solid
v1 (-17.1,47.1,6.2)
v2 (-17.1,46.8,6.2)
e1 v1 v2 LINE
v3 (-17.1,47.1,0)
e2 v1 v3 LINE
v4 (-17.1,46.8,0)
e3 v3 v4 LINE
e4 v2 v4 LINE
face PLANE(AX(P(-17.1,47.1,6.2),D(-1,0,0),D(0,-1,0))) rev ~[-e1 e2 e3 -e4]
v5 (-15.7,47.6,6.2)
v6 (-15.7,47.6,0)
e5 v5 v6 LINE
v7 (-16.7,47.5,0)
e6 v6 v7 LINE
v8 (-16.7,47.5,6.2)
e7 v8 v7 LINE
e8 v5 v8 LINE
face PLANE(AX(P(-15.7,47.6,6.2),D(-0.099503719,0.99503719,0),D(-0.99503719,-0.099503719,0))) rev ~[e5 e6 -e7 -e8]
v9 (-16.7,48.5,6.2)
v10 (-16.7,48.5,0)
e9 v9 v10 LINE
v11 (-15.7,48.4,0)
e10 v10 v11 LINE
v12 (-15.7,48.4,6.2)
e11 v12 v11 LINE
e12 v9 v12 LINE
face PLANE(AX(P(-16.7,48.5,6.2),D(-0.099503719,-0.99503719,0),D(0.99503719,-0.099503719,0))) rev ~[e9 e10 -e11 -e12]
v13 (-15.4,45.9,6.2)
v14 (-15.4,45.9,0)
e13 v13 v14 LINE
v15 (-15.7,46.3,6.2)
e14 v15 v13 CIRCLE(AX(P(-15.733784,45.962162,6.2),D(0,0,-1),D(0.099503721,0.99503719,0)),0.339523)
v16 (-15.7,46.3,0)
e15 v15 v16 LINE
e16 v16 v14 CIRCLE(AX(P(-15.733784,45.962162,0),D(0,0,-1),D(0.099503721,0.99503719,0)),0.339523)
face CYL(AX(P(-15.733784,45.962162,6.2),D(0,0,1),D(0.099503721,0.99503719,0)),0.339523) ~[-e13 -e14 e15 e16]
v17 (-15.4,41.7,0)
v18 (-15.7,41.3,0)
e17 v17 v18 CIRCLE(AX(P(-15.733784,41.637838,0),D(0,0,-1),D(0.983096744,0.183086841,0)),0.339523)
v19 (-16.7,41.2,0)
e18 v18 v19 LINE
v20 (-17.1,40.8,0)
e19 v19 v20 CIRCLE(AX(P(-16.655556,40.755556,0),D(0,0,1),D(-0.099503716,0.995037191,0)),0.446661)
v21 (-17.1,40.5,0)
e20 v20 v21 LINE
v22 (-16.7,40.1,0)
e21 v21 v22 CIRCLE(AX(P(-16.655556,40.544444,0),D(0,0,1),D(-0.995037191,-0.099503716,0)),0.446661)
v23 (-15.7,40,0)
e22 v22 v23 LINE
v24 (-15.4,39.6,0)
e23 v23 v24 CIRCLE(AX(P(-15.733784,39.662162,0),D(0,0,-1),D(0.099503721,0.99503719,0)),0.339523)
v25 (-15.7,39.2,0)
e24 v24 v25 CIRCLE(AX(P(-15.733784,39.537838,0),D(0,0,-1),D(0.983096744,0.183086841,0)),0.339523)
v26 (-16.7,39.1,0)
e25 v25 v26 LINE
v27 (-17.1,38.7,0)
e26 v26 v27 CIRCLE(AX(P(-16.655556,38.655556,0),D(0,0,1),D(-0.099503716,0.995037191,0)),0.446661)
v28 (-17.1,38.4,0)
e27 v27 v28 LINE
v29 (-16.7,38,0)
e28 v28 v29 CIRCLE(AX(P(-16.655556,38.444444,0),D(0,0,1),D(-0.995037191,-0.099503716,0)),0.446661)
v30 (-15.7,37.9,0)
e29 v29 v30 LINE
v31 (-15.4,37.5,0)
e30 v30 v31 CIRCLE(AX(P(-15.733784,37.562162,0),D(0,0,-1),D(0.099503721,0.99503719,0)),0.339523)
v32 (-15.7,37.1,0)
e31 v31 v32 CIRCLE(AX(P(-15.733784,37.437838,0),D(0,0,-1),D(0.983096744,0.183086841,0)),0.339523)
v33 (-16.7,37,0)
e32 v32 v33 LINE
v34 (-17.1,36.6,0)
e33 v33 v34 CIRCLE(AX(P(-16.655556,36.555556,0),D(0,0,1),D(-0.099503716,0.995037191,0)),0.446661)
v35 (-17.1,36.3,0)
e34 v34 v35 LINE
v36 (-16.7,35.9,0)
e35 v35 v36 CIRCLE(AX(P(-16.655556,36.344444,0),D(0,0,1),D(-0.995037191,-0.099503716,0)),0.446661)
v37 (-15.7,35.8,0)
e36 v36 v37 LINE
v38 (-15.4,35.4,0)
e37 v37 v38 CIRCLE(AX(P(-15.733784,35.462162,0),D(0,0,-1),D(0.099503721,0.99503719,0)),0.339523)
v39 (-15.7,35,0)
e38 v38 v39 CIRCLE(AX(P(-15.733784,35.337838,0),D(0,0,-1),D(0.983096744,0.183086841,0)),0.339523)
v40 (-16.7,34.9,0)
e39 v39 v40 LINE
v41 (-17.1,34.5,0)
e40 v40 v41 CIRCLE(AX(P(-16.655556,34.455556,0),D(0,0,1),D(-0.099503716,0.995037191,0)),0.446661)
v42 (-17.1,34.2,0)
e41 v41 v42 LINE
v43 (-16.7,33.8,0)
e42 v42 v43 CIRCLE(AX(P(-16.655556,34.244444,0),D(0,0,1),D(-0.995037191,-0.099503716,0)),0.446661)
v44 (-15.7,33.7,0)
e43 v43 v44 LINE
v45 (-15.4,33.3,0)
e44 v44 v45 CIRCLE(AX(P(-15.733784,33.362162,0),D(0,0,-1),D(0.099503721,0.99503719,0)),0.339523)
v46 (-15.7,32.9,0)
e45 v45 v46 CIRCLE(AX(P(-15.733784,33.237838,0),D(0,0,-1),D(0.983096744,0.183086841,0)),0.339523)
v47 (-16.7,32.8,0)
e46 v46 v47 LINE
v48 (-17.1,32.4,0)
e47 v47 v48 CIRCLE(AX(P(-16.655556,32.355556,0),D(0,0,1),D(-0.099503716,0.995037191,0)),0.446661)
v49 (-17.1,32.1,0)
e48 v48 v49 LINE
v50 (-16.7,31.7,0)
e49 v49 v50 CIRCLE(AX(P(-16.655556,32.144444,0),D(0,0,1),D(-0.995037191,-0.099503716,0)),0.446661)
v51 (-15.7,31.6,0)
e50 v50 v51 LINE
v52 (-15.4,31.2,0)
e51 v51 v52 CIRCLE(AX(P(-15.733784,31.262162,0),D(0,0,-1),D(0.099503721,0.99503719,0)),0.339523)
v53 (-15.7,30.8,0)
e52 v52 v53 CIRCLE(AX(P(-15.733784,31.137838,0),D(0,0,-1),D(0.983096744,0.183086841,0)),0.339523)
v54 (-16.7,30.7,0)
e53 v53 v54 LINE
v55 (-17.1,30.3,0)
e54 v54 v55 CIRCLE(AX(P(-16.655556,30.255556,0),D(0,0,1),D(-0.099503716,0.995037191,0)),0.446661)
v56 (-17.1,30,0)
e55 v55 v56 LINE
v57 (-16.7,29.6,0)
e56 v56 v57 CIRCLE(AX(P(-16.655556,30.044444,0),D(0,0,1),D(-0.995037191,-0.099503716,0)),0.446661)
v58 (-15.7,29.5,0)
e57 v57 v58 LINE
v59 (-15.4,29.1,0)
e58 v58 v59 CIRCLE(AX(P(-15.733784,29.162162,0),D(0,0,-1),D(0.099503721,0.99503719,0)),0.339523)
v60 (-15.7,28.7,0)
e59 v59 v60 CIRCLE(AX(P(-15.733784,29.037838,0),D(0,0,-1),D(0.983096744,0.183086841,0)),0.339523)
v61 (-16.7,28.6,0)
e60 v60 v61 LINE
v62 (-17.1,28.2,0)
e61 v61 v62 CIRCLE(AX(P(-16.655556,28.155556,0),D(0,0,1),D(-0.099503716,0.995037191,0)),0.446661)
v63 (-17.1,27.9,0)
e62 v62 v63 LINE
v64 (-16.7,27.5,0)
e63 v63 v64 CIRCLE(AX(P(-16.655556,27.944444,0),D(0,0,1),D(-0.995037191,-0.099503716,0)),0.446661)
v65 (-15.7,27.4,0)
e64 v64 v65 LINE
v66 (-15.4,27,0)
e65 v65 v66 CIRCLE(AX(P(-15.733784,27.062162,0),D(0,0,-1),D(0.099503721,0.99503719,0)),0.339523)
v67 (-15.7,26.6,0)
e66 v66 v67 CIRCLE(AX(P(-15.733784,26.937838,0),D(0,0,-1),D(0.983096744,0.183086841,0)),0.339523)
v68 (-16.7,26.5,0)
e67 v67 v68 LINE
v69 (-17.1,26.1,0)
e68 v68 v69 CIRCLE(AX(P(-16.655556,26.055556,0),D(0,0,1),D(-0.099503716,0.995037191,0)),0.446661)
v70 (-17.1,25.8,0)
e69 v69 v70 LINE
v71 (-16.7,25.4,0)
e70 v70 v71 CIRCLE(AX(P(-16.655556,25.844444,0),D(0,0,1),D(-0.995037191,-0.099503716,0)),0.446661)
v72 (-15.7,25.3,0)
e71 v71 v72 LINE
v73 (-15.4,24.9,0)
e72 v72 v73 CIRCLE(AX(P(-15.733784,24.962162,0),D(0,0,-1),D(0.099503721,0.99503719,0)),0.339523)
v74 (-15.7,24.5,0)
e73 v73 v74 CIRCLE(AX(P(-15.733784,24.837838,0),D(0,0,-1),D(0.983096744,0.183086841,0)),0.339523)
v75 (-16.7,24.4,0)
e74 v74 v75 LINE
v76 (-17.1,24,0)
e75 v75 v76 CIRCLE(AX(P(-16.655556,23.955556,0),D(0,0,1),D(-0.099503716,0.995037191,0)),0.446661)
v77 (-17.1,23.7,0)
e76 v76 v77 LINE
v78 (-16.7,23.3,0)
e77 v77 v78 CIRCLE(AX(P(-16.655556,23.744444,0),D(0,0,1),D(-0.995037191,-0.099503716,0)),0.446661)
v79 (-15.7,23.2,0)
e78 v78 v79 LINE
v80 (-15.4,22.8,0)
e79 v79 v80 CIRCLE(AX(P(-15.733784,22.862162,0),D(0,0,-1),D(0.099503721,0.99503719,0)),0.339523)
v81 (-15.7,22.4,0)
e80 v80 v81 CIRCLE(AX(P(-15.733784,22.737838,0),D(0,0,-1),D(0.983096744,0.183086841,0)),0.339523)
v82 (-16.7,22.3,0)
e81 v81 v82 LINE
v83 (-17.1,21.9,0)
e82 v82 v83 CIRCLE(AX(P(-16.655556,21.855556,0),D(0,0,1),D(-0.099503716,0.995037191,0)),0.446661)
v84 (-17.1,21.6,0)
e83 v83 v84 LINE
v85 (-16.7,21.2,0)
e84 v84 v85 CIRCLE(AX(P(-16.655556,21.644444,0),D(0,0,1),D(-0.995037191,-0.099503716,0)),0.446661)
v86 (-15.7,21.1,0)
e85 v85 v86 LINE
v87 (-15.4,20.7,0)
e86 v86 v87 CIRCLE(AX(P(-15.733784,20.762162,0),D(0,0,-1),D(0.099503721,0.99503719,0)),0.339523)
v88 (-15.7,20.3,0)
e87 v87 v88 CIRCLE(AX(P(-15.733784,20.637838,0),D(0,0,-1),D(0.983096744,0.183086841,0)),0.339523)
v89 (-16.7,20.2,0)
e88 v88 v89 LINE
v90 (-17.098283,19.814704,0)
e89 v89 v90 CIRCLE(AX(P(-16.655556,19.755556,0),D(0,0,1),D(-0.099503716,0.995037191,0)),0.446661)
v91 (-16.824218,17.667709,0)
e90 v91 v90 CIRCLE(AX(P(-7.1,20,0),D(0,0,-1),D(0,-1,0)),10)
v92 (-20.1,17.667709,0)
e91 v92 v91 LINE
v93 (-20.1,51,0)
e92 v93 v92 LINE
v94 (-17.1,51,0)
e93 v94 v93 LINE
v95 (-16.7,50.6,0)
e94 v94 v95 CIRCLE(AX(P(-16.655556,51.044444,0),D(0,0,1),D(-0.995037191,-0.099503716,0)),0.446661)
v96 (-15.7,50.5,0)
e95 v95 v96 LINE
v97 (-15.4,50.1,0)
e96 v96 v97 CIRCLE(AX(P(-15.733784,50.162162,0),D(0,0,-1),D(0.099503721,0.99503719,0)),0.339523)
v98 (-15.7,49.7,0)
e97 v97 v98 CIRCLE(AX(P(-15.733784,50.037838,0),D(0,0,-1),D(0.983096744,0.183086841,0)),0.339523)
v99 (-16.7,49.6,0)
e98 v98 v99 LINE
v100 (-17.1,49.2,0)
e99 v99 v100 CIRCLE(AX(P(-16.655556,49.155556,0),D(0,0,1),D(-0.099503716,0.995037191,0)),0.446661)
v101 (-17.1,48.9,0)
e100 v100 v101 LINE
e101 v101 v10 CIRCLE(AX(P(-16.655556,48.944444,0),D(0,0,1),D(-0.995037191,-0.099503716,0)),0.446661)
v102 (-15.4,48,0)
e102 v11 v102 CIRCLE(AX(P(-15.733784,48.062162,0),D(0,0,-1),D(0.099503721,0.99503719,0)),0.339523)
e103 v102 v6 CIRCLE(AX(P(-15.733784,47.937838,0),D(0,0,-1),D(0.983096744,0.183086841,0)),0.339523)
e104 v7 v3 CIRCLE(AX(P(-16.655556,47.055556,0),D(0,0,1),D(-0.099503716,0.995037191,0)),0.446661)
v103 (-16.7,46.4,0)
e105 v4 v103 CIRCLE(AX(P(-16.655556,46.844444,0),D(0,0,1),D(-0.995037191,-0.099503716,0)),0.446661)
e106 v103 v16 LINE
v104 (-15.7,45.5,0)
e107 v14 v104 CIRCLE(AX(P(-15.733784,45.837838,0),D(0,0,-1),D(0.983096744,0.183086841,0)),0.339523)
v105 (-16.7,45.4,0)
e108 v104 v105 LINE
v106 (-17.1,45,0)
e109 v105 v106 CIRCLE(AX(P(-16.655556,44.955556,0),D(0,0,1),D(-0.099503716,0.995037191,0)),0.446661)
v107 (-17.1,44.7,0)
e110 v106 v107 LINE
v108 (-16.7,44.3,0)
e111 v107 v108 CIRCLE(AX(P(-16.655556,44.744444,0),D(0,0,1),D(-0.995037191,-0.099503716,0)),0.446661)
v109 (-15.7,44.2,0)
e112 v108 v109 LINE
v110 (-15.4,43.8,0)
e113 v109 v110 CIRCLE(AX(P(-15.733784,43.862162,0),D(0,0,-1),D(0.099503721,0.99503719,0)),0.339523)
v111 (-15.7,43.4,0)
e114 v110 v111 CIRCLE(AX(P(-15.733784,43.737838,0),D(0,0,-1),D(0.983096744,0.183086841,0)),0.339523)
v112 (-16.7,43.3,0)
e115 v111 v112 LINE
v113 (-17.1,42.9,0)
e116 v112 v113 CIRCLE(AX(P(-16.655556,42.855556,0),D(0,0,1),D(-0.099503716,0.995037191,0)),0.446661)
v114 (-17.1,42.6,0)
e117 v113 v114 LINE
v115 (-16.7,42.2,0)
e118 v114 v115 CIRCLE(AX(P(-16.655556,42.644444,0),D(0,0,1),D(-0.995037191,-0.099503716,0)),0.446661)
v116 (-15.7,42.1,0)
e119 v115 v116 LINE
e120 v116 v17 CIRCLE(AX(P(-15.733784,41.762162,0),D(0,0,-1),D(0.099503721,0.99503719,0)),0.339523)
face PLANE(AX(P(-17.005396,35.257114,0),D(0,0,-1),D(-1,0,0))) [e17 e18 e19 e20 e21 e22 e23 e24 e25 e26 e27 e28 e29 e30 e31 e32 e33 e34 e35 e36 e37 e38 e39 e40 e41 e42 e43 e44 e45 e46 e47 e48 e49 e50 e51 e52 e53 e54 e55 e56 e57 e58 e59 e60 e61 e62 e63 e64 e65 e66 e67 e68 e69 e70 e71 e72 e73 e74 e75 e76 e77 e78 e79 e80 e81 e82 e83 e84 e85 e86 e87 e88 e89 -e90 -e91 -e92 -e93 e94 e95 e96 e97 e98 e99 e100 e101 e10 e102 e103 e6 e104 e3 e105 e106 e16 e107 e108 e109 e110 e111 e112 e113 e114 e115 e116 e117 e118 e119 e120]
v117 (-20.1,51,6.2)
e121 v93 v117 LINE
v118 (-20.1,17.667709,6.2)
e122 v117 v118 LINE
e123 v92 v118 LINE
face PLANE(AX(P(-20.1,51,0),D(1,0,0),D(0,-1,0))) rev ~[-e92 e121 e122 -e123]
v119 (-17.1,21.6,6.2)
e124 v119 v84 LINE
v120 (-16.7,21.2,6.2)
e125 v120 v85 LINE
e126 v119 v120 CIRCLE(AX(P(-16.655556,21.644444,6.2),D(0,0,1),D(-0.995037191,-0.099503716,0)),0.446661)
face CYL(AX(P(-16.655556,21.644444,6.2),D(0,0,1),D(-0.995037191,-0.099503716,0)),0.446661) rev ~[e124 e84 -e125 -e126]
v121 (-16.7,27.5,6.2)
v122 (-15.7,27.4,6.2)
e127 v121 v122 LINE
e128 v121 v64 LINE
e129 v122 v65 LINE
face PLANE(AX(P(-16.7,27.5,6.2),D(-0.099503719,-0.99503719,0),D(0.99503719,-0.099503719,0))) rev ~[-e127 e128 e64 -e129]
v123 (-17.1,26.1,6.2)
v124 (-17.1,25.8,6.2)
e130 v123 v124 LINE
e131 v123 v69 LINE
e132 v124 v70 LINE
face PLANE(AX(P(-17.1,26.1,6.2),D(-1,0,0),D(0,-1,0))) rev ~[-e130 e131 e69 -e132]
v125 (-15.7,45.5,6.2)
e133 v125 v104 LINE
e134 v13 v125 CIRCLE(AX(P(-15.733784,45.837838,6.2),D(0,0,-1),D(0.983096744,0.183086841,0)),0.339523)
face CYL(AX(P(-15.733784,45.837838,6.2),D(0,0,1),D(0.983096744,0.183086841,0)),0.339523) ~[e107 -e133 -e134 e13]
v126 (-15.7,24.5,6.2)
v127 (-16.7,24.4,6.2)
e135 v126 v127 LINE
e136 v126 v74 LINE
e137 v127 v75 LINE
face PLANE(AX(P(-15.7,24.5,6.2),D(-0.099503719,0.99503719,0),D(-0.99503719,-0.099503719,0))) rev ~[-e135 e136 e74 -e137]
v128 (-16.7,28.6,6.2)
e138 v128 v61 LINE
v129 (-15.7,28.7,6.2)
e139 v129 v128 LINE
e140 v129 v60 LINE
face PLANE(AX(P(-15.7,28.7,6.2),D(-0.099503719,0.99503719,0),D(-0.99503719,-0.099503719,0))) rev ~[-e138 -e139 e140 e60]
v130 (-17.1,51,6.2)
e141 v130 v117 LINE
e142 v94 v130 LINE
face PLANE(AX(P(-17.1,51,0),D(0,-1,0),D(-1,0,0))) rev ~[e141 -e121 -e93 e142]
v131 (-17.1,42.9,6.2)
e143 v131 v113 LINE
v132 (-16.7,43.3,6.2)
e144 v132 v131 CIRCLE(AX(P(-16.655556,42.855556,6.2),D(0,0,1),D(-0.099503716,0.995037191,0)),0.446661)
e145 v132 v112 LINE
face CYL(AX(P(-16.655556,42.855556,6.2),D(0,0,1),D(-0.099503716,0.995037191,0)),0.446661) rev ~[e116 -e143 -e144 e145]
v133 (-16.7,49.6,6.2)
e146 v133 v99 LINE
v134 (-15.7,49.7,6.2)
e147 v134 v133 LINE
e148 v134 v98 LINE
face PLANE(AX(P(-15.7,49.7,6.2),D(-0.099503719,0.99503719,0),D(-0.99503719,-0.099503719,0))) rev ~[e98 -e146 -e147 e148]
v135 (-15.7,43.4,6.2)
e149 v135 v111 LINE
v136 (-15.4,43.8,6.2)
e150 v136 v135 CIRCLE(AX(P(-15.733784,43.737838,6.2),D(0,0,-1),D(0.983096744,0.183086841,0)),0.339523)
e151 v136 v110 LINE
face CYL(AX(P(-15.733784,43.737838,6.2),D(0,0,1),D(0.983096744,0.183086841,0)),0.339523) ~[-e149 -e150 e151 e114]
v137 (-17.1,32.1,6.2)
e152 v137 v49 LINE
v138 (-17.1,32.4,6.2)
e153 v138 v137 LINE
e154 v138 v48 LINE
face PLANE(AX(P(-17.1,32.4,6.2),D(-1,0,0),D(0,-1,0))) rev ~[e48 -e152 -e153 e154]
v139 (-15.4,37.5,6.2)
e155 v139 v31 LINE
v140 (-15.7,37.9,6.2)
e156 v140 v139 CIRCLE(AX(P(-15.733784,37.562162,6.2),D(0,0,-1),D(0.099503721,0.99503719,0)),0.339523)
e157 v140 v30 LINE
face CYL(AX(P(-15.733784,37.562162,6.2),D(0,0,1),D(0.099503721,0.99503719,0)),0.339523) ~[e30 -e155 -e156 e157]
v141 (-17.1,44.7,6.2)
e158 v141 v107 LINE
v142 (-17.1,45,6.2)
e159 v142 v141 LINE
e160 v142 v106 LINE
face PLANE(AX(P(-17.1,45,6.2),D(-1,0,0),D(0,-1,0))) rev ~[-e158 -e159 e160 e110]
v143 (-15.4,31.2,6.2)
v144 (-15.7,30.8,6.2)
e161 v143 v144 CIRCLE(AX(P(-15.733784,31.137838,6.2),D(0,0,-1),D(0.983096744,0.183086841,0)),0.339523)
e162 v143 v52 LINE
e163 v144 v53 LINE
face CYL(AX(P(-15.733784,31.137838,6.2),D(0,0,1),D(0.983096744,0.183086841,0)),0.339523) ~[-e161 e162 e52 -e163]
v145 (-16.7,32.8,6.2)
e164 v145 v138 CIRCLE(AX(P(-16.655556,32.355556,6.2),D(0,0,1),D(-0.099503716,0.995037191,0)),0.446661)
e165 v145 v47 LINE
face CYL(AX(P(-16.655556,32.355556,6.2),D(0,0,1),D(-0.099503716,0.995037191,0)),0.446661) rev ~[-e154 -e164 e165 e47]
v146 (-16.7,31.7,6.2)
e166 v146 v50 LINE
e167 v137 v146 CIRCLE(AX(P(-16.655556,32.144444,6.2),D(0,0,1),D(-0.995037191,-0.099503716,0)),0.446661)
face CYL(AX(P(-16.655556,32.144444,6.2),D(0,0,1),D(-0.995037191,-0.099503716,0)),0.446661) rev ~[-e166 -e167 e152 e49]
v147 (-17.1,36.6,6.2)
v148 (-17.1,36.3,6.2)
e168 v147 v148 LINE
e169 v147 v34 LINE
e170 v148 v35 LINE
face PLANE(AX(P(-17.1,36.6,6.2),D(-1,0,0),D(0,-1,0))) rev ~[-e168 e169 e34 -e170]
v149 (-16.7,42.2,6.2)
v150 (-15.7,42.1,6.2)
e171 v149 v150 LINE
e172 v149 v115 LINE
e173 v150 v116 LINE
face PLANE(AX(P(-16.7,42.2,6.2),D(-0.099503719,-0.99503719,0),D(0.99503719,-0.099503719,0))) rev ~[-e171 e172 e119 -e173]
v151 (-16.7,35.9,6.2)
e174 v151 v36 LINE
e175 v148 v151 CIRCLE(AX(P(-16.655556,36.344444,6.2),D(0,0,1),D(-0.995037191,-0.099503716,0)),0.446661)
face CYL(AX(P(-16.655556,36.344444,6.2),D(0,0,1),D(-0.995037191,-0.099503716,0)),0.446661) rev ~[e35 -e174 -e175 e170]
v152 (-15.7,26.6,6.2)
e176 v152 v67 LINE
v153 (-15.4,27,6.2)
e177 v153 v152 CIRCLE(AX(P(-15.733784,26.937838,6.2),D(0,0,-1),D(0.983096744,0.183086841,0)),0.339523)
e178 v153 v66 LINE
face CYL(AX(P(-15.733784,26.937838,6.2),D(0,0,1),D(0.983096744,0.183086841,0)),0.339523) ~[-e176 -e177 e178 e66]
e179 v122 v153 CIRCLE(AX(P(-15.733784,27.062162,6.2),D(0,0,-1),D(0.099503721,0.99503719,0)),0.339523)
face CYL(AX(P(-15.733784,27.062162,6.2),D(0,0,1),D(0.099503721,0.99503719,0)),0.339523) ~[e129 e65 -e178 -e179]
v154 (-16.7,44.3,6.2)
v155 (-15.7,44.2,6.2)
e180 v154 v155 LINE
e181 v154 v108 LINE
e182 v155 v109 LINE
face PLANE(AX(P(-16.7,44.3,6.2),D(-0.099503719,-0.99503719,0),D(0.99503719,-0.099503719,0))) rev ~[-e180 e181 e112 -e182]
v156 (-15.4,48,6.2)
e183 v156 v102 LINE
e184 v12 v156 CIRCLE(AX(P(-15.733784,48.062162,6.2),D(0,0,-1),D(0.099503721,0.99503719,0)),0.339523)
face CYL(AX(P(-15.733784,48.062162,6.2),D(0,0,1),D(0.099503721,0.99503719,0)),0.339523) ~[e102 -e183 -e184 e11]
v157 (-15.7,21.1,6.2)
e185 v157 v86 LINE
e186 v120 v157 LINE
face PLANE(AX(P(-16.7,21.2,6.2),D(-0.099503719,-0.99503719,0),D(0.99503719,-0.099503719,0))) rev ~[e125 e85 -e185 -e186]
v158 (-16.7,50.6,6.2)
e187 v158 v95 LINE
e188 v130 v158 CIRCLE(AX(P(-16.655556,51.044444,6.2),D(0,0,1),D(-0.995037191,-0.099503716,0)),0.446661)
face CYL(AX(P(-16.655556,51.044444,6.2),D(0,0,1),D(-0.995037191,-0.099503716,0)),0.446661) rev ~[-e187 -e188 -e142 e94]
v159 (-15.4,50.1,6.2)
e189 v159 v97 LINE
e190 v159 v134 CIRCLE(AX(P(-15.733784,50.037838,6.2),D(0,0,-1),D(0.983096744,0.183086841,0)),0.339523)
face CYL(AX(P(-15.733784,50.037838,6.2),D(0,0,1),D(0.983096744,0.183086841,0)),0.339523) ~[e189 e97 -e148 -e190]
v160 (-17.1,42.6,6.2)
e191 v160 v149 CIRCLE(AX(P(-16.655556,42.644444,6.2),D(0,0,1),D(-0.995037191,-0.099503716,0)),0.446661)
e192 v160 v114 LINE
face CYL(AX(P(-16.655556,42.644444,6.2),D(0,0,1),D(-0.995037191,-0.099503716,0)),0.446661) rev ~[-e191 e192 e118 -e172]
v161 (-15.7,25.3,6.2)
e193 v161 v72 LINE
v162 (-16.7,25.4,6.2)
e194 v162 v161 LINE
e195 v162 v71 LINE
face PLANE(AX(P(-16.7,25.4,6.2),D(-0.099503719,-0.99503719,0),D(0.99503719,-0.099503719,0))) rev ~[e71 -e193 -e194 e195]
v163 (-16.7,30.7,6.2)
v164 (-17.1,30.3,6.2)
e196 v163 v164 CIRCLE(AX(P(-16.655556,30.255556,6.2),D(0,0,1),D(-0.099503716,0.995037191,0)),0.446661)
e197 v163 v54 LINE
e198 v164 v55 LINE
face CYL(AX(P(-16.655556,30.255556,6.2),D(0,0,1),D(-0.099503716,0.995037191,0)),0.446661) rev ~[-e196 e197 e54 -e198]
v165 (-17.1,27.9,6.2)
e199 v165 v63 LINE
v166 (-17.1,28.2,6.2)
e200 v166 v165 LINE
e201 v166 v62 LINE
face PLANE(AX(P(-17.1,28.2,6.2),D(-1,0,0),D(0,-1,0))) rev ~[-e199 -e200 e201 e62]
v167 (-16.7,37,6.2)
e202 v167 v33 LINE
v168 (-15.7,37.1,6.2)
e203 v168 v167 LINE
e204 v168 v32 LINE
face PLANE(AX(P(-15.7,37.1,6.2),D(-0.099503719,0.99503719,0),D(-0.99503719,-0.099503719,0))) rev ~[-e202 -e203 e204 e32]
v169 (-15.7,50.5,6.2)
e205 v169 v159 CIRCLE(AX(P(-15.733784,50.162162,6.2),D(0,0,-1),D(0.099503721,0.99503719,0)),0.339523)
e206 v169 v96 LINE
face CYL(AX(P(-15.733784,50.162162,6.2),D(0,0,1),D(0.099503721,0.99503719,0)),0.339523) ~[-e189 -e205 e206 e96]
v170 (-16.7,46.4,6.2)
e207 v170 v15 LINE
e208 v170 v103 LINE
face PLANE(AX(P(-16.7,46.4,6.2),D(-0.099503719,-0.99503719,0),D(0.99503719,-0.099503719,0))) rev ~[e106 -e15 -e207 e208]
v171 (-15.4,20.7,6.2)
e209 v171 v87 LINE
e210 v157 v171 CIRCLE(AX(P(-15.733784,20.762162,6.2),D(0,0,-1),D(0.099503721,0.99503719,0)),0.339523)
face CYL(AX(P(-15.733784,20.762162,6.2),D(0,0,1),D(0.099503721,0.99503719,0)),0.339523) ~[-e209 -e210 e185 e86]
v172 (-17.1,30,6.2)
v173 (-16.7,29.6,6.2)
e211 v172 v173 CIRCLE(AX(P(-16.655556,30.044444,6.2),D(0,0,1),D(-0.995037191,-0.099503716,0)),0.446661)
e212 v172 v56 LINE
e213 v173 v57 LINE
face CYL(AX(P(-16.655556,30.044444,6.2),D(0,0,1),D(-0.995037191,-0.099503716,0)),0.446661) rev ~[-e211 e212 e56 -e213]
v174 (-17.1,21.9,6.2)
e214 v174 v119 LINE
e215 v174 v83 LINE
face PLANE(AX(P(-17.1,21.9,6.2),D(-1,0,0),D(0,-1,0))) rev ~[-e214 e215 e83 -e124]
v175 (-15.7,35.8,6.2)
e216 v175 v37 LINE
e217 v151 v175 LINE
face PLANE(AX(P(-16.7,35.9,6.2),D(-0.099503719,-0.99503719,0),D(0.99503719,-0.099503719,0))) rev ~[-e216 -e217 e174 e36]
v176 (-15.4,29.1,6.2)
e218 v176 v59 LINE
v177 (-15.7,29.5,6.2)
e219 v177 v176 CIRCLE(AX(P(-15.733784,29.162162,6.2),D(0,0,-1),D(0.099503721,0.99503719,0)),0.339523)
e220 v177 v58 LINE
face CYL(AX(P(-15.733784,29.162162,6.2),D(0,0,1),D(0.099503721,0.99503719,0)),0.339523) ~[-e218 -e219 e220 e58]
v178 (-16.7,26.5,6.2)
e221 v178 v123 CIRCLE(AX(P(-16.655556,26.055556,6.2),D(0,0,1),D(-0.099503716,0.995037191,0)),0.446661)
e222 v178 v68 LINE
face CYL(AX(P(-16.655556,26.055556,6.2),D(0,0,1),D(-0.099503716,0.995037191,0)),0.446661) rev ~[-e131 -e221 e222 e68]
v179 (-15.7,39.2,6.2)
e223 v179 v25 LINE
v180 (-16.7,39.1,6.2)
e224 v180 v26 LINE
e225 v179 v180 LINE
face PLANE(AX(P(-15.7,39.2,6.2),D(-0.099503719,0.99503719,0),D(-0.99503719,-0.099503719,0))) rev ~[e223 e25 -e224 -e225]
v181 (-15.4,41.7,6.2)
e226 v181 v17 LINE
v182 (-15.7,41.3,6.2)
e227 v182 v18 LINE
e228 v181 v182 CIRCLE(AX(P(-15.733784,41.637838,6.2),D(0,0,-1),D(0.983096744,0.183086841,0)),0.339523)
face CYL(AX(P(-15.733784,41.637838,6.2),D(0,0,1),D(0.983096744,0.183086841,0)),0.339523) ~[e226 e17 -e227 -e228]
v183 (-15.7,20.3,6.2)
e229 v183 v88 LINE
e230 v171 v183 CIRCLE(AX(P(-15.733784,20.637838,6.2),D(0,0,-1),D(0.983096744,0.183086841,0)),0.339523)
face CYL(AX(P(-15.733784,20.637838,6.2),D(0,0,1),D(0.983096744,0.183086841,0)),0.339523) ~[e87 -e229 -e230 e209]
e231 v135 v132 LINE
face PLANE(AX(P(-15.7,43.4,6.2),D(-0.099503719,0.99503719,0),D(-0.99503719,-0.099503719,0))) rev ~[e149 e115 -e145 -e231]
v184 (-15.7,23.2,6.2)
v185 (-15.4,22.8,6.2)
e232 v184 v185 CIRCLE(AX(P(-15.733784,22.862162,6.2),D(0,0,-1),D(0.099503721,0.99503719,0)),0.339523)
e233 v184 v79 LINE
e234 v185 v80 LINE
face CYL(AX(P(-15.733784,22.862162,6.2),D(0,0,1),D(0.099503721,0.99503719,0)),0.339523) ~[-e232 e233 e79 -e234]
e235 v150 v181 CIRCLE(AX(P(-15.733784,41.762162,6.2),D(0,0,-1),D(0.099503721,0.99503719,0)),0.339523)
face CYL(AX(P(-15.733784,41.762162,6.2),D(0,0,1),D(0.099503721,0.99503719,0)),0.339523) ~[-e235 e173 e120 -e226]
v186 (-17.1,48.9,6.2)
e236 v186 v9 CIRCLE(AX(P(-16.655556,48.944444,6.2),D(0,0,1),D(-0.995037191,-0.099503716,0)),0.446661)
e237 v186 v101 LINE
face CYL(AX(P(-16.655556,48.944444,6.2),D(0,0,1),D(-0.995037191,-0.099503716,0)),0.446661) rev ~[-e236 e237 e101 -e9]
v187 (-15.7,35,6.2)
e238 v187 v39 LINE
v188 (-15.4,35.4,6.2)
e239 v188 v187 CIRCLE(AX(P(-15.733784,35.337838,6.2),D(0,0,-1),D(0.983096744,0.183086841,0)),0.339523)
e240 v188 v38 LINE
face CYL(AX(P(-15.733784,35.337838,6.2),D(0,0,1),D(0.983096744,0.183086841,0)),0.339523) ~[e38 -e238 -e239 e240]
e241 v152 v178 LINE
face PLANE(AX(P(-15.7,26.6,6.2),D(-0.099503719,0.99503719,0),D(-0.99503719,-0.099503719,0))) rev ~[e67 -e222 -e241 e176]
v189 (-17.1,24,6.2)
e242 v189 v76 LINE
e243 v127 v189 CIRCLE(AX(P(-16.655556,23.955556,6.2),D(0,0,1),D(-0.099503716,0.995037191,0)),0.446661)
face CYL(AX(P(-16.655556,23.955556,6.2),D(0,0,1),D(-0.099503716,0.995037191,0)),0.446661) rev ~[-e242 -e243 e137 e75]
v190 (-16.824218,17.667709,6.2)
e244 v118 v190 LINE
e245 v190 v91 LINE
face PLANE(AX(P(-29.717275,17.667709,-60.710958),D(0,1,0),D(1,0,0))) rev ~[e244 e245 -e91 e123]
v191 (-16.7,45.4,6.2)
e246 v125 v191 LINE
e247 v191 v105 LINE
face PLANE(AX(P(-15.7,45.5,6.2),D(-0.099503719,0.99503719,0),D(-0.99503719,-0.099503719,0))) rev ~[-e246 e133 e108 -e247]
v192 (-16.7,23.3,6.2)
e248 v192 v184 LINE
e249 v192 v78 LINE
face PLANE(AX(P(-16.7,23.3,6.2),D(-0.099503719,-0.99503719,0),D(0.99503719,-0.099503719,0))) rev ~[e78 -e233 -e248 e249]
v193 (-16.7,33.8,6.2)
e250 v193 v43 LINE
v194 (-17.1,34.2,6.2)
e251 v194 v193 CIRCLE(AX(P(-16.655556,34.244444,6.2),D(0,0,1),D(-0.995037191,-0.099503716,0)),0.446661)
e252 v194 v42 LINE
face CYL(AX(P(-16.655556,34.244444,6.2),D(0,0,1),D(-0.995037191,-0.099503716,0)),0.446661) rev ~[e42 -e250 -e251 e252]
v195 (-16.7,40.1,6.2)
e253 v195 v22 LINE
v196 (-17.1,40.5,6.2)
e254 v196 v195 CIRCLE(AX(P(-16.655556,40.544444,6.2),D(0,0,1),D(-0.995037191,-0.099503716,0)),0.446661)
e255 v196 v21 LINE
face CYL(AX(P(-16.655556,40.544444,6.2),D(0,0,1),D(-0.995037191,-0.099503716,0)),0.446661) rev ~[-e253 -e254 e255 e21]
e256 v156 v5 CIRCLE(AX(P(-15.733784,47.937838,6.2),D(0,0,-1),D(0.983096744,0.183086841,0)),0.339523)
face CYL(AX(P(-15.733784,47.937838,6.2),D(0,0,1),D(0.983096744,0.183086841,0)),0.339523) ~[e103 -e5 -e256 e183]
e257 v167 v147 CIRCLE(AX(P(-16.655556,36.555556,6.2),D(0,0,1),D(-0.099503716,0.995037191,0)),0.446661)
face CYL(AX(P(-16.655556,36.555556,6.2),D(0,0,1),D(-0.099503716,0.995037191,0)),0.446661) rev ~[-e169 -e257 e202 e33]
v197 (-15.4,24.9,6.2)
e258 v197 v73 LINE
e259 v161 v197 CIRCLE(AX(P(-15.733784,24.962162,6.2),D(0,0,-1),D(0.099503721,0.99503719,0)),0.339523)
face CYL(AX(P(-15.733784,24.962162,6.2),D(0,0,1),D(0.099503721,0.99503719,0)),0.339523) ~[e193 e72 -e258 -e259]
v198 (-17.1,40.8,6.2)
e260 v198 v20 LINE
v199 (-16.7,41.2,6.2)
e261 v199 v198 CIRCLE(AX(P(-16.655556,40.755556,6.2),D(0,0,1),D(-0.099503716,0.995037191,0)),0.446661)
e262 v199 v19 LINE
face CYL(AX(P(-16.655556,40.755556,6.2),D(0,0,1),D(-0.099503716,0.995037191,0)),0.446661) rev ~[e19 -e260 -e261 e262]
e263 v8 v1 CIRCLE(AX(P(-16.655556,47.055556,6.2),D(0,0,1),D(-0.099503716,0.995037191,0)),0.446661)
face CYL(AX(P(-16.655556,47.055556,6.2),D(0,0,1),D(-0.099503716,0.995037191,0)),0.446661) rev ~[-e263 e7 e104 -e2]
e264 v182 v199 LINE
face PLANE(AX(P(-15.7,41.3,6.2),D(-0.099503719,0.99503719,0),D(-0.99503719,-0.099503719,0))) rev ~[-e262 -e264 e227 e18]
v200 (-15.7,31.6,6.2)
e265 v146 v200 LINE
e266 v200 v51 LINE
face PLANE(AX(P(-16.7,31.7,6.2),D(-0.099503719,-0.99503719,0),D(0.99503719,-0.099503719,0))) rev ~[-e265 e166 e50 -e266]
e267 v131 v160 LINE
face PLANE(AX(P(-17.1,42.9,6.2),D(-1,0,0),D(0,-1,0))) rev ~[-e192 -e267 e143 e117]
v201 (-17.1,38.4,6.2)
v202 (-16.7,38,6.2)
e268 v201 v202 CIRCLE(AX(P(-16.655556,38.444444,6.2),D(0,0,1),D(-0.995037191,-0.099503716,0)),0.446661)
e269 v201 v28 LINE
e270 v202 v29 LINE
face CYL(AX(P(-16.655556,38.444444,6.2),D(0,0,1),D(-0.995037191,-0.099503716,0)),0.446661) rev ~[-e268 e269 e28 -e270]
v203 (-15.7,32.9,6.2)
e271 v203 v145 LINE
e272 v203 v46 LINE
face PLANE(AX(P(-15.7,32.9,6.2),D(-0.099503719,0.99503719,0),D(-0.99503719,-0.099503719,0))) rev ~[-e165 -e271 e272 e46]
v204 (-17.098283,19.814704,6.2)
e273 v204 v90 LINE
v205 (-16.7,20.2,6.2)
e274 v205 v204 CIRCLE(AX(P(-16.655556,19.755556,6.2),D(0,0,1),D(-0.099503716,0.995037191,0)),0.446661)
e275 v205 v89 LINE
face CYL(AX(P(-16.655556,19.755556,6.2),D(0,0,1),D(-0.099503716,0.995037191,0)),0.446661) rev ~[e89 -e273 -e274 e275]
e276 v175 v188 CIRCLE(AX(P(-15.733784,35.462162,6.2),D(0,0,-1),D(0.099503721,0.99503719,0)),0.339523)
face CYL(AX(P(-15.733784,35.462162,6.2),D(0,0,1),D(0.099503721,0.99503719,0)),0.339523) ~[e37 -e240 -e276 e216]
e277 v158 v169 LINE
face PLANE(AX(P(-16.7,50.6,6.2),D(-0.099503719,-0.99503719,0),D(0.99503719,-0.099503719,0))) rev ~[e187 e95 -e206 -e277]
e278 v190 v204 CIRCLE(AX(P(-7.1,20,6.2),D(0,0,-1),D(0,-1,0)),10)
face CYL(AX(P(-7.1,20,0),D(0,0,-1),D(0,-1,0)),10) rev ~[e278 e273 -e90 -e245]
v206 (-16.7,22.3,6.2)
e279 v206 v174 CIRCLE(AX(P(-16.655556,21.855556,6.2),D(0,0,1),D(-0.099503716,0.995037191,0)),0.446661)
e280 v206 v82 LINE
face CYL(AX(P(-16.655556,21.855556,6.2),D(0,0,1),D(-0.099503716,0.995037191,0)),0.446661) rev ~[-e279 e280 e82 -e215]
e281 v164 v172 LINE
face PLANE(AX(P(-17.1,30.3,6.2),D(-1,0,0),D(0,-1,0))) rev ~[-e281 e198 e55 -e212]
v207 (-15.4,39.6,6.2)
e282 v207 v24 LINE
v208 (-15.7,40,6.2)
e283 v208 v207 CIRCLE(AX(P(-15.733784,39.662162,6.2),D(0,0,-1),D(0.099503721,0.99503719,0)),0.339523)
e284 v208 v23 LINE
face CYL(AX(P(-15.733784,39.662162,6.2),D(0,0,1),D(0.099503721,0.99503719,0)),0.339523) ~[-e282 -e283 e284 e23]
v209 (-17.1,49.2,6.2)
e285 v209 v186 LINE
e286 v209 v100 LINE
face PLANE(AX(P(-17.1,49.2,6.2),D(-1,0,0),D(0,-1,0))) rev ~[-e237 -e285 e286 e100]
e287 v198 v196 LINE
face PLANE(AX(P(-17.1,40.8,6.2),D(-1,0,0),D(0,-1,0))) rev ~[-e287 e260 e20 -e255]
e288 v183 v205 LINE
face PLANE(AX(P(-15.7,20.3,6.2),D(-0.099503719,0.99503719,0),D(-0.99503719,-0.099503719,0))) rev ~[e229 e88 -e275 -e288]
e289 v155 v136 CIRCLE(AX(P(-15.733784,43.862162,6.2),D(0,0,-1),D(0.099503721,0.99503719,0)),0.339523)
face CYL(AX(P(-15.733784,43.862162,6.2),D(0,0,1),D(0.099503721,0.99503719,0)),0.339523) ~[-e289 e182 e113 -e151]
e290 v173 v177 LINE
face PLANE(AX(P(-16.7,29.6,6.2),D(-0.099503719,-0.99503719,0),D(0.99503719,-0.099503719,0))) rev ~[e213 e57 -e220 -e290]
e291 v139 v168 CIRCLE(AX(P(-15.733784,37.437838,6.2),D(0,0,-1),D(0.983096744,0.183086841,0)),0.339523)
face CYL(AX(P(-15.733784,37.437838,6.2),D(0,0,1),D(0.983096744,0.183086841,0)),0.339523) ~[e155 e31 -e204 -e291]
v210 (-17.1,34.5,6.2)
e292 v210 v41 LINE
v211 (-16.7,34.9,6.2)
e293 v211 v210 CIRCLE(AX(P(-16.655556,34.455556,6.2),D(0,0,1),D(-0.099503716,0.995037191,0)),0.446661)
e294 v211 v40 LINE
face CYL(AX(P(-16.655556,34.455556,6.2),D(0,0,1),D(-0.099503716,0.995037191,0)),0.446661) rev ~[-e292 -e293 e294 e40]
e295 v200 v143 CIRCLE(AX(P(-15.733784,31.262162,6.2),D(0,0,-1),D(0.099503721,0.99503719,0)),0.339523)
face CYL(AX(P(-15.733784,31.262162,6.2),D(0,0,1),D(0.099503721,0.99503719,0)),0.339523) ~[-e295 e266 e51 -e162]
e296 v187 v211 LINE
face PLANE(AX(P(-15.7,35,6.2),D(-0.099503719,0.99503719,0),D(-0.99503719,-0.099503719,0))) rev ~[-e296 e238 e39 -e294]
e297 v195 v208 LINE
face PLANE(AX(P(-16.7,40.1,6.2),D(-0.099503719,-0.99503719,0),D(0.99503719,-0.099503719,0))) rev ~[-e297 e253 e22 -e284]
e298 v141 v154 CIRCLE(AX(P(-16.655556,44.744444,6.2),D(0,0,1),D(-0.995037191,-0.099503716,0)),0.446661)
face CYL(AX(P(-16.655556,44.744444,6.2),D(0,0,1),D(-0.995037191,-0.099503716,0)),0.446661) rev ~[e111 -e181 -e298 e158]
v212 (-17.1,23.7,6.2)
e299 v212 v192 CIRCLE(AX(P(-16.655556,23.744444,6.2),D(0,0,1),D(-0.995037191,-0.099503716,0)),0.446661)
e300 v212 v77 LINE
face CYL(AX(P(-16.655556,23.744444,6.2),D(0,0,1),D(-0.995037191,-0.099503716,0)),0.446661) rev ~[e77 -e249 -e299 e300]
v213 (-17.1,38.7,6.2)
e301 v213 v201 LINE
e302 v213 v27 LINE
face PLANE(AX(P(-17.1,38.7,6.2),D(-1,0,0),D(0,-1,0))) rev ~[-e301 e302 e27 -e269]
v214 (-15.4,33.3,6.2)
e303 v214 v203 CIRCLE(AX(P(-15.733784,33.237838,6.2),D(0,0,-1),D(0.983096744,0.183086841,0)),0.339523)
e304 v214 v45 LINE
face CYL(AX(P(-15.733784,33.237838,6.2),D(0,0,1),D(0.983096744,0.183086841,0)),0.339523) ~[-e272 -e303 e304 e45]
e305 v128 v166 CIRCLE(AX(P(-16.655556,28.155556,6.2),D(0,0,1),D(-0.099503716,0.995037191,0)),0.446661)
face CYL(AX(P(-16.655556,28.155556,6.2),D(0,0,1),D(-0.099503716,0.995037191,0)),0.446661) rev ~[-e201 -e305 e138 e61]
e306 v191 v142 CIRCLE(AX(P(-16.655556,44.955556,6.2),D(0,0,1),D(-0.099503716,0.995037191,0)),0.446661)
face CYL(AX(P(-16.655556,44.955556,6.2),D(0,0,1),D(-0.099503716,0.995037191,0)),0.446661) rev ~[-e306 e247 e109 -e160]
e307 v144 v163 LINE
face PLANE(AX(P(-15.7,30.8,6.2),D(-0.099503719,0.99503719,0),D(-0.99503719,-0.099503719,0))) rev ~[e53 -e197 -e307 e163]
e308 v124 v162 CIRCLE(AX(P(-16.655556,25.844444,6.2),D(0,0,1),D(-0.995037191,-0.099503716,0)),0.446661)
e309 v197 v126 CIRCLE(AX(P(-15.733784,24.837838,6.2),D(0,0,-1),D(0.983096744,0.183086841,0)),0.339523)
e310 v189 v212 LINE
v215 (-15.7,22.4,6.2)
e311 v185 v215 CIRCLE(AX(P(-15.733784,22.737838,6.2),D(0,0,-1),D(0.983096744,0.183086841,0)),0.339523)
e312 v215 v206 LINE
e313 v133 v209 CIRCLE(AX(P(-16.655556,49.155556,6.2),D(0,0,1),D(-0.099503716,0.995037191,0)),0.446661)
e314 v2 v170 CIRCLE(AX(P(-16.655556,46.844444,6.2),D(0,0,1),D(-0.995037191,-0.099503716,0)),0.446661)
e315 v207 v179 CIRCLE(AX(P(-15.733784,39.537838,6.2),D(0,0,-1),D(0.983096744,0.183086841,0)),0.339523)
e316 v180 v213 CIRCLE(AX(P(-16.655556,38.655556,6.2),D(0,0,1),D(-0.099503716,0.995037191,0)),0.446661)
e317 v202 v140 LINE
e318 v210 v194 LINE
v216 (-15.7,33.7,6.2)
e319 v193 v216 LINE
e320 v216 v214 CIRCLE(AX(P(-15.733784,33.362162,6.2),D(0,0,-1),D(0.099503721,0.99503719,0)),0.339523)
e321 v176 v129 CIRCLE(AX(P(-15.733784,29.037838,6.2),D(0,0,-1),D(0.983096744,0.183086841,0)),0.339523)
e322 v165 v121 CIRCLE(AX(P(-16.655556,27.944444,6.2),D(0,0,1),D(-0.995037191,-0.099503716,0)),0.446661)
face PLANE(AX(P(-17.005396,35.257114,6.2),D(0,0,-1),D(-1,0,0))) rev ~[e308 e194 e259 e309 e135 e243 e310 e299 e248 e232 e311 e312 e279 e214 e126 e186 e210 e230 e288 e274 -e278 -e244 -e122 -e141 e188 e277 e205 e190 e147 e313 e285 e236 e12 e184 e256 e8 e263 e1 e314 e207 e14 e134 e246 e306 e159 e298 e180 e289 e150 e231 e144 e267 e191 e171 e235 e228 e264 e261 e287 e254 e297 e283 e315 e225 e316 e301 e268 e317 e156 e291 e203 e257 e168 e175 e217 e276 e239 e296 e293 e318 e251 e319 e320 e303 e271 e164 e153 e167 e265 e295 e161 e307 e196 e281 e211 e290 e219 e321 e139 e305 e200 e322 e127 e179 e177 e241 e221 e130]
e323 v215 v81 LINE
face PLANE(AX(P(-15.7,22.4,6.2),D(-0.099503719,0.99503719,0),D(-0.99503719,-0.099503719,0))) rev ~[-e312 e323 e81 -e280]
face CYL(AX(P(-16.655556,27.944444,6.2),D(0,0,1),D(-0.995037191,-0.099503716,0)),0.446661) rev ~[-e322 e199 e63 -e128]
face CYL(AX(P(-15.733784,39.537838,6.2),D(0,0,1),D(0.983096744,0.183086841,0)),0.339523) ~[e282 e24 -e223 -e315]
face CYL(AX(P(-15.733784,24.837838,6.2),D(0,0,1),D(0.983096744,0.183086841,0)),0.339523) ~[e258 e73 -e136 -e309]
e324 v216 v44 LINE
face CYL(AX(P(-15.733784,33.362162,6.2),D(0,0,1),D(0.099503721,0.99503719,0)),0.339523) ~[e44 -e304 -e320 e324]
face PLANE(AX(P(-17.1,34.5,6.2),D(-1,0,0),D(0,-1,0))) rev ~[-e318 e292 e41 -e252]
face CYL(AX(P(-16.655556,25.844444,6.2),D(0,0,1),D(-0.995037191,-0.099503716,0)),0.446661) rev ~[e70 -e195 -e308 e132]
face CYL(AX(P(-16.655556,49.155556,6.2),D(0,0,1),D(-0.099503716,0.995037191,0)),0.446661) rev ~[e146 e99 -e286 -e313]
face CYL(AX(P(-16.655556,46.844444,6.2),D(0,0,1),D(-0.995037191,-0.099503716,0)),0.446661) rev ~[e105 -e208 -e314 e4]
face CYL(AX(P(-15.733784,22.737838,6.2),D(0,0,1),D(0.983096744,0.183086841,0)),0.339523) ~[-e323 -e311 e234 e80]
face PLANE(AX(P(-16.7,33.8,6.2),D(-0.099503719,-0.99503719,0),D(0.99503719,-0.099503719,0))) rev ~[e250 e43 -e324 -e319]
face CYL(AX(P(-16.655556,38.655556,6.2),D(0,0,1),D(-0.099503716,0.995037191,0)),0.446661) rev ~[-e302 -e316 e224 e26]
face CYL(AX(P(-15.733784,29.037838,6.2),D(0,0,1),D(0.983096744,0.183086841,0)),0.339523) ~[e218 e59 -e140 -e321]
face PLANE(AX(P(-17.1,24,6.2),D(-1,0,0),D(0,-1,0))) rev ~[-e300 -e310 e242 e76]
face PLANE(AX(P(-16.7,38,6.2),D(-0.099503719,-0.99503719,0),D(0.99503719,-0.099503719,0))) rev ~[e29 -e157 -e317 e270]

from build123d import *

# Parameters (mm, degrees)
BOSS_EXTRUDE1_DEPTH     = 6.2
BOSS_EXTRUDE2_DEPTH     = 21
CHAMFER1_SIZE           = 5
CHAMFER1_SIZE2          = 28.356409098
CUT_EXTRUDE1_REACH      = 73.991
CHAMFER2_SIZE           = 1
CHAMFER2_SIZE2          = 9.514364454
CHAMFER3_SIZE           = 2
CUT_EXTRUDE2_REACH      = 78.94
CUT_EXTRUDE3_START      = -3.468867
CUT_EXTRUDE3_DEPTH      = 3.468867
BOSS_EXTRUDE3_DEPTH     = 6.2
CUT_EXTRUDE4_REACH      = 78.94
CUT_EXTRUDE5_DEPTH      = 69.523280715
CUT_EXTRUDE5_DEPTH_BACK = 69.523280715
SKETCH9_W               = 8.426821026
SKETCH9_H               = 53.817918331
CUT_EXTRUDE6_DEPTH      = 66.910958363
CUT_EXTRUDE6_DEPTH_BACK = 66.910958363
SKETCH10_W              = 41.255234225
SKETCH10_H              = 19.128366746
SKETCH11_W              = 36.809181414
SKETCH11_H              = 5.790208313
CUT_EXTRUDE7_DEPTH      = 66.910958363


with BuildPart() as part:
    # Sketch1 → Boss-Extrude1 (new body)
    with BuildSketch(Plane.XY):
        with BuildLine():
            Line((-28, 0), (0, 0))
            Line((0, 0), (0, 10))
            Line((0, 10), (-7.1, 10))
            ThreePointArc((-7.1, 10), (-14.171067812, 12.928932188), (-17.1, 20))
            Line((-17.1, 20), (-17.1, 51))
            Line((-17.1, 51), (-20.1, 51))
            Line((-20.1, 51), (-20.1, 6))
            Line((-20.1, 6), (-24, 6))
            Line((-24, 6), (-24, 50))
            Line((-24, 50), (-28, 50))
            Line((-28, 50), (-28, 0))
        make_face()
    extrude(amount=BOSS_EXTRUDE1_DEPTH)

    # Sketch2 → Boss-Extrude2 (add)
    with BuildSketch(Plane.XZ):
        Polygon((0, 6.2), (0, 10.4), (11, 10.4), (11, 42.4), (-24.1, 42.4), (-24.1, 10.4), (-13.1, 10.4), (-13.1, 6.2), align=None)
    extrude(amount=-BOSS_EXTRUDE2_DEPTH)

    # Chamfer1
    chamfer1_edges = [part.edges().sort_by_distance(p)[0] for p in [
        (-6.55, 0, 42.4),
    ]]
    chamfer1_side = [part.faces().sort_by_distance(p)[0] for p in [
        (-6.55, 10.5, 42.4),
    ]]
    chamfer(chamfer1_edges, length=CHAMFER1_SIZE, length2=CHAMFER1_SIZE2, reference=chamfer1_side[0])

    # Sketch3 → Cut-Extrude1 (cut, up to next)
    with BuildSketch(Plane(origin=(0, 0, 0), x_dir=(0, 0, -1), z_dir=(1, 0, 0)), mode=Mode.PRIVATE) as cut_extrude1_sk1:
        Polygon((-6.2, 10), (-7.6, 10), (-10.4, 21), (-6.2, 21), align=None)
    cut_extrude1_tool1 = extrude(cut_extrude1_sk1.sketch, amount=-CUT_EXTRUDE1_REACH, mode=Mode.PRIVATE) & part.part
    add(cut_extrude1_tool1.solids().sort_by_distance((0, 16.416667, 7.716667))[0], mode=Mode.SUBTRACT)

    # Chamfer2
    chamfer2_edges = [part.edges().sort_by_distance(p)[0] for p in [
        (11, 10.5, 10.4),
    ]]
    chamfer2_side = [part.faces().sort_by_distance(p)[0] for p in [
        (11, 11.541747932, 25.62778603),
    ]]
    chamfer(chamfer2_edges, length=CHAMFER2_SIZE, length2=CHAMFER2_SIZE2, reference=chamfer2_side[0])

    # Chamfer3
    chamfer3_edges = [part.edges().sort_by_distance(p)[0] for p in [
        (-24.1, 10.5, 10.4),
    ]]
    chamfer(chamfer3_edges, length=CHAMFER3_SIZE)

    # Sketch5 → Cut-Extrude2 (cut, up to next)
    with BuildSketch(Plane(origin=(11, 0, 0), x_dir=(0, 0, -1), z_dir=(1, 0, 0)), mode=Mode.PRIVATE) as cut_extrude2_sk1:
        Polygon((-42.4, 17.8), (-13.86886709, 5), (-10.966215349, -4.108657177), (-44.036924755, 0.937700744), align=None)
    cut_extrude2_tool1 = extrude(cut_extrude2_sk1.sketch, amount=-CUT_EXTRUDE2_REACH, mode=Mode.PRIVATE) & part.part
    add(cut_extrude2_tool1.solids().sort_by_distance((11, 5.258773, 29.627692))[0], mode=Mode.SUBTRACT)

    # Sketch6 → Cut-Extrude3 (cut)
    with BuildSketch(Plane(origin=(0, 0, 10.4), x_dir=(-1, 0, 0), z_dir=(0, 0, -1)).offset(CUT_EXTRUDE3_START)):
        Polygon((13.1, 0), (24.1, 5), (37.198342989, 5), (28.62602328, -4.522208447), (-13.825974113, -5.629287686), (-20.705007466, 5), (-11, 5), (0, 0), align=None)
    extrude(amount=CUT_EXTRUDE3_DEPTH, mode=Mode.SUBTRACT)

    # Sketch7 → Boss-Extrude3 (add)
    with BuildSketch(Plane.XY.offset(6.2)):
        with BuildLine():
            Line((-16.7, 50.6), (-15.7, 50.5))
            ThreePointArc((-15.7, 50.5), (-15.462165524, 50.365875857), (-15.4, 50.1))
            ThreePointArc((-15.4, 50.1), (-15.462165524, 49.834124143), (-15.7, 49.7))
            Line((-15.7, 49.7), (-16.7, 49.6))
            ThreePointArc((-16.7, 49.6), (-16.971392676, 49.471392676), (-17.1, 49.2))
            Line((-17.1, 49.2), (-17.1, 48.9))
            ThreePointArc((-17.1, 48.9), (-16.971392676, 48.628607324), (-16.7, 48.5))
            Line((-16.7, 48.5), (-15.7, 48.4))
            ThreePointArc((-15.7, 48.4), (-15.462165524, 48.265875857), (-15.4, 48))
            ThreePointArc((-15.4, 48), (-15.462165524, 47.734124143), (-15.7, 47.6))
            Line((-15.7, 47.6), (-16.7, 47.5))
            ThreePointArc((-16.7, 47.5), (-16.971392676, 47.371392676), (-17.1, 47.1))
            Line((-17.1, 47.1), (-17.1, 46.8))
            ThreePointArc((-17.1, 46.8), (-16.971392676, 46.528607324), (-16.7, 46.4))
            Line((-16.7, 46.4), (-15.7, 46.3))
            ThreePointArc((-15.7, 46.3), (-15.462165524, 46.165875857), (-15.4, 45.9))
            ThreePointArc((-15.4, 45.9), (-15.462165524, 45.634124143), (-15.7, 45.5))
            Line((-15.7, 45.5), (-16.7, 45.4))
            ThreePointArc((-16.7, 45.4), (-16.971392676, 45.271392676), (-17.1, 45))
            Line((-17.1, 45), (-17.1, 44.7))
            ThreePointArc((-17.1, 44.7), (-16.971392676, 44.428607324), (-16.7, 44.3))
            Line((-16.7, 44.3), (-15.7, 44.2))
            ThreePointArc((-15.7, 44.2), (-15.462165524, 44.065875857), (-15.4, 43.8))
            ThreePointArc((-15.4, 43.8), (-15.462165524, 43.534124143), (-15.7, 43.4))
            Line((-15.7, 43.4), (-16.7, 43.3))
            ThreePointArc((-16.7, 43.3), (-16.971392676, 43.171392676), (-17.1, 42.9))
            Line((-17.1, 42.9), (-17.1, 42.6))
            ThreePointArc((-17.1, 42.6), (-16.971392676, 42.328607324), (-16.7, 42.2))
            Line((-16.7, 42.2), (-15.7, 42.1))
            ThreePointArc((-15.7, 42.1), (-15.462165524, 41.965875857), (-15.4, 41.7))
            ThreePointArc((-15.4, 41.7), (-15.462165524, 41.434124143), (-15.7, 41.3))
            Line((-15.7, 41.3), (-16.7, 41.2))
            ThreePointArc((-16.7, 41.2), (-16.971392676, 41.071392676), (-17.1, 40.8))
            Line((-17.1, 40.8), (-17.1, 40.5))
            ThreePointArc((-17.1, 40.5), (-16.971392676, 40.228607324), (-16.7, 40.1))
            Line((-16.7, 40.1), (-15.7, 40))
            ThreePointArc((-15.7, 40), (-15.462165524, 39.865875857), (-15.4, 39.6))
            ThreePointArc((-15.4, 39.6), (-15.462165524, 39.334124143), (-15.7, 39.2))
            Line((-15.7, 39.2), (-16.7, 39.1))
            ThreePointArc((-16.7, 39.1), (-16.971392676, 38.971392676), (-17.1, 38.7))
            Line((-17.1, 38.7), (-17.1, 38.4))
            ThreePointArc((-17.1, 38.4), (-16.971392676, 38.128607324), (-16.7, 38))
            Line((-16.7, 38), (-15.7, 37.9))
            ThreePointArc((-15.7, 37.9), (-15.462165524, 37.765875857), (-15.4, 37.5))
            ThreePointArc((-15.4, 37.5), (-15.462165524, 37.234124143), (-15.7, 37.1))
            Line((-15.7, 37.1), (-16.7, 37))
            ThreePointArc((-16.7, 37), (-16.971392676, 36.871392676), (-17.1, 36.6))
            Line((-17.1, 36.6), (-17.1, 36.3))
            ThreePointArc((-17.1, 36.3), (-16.971392676, 36.028607324), (-16.7, 35.9))
            Line((-16.7, 35.9), (-15.7, 35.8))
            ThreePointArc((-15.7, 35.8), (-15.462165524, 35.665875857), (-15.4, 35.4))
            ThreePointArc((-15.4, 35.4), (-15.462165524, 35.134124143), (-15.7, 35))
            Line((-15.7, 35), (-16.7, 34.9))
            ThreePointArc((-16.7, 34.9), (-16.971392676, 34.771392676), (-17.1, 34.5))
            Line((-17.1, 34.5), (-17.1, 34.2))
            ThreePointArc((-17.1, 34.2), (-16.971392676, 33.928607324), (-16.7, 33.8))
            Line((-16.7, 33.8), (-15.7, 33.7))
            ThreePointArc((-15.7, 33.7), (-15.462165524, 33.565875857), (-15.4, 33.3))
            ThreePointArc((-15.4, 33.3), (-15.462165524, 33.034124143), (-15.7, 32.9))
            Line((-15.7, 32.9), (-16.7, 32.8))
            ThreePointArc((-16.7, 32.8), (-16.971392676, 32.671392676), (-17.1, 32.4))
            Line((-17.1, 32.4), (-17.1, 32.1))
            ThreePointArc((-17.1, 32.1), (-16.971392676, 31.828607324), (-16.7, 31.7))
            Line((-16.7, 31.7), (-15.7, 31.6))
            ThreePointArc((-15.7, 31.6), (-15.462165524, 31.465875857), (-15.4, 31.2))
            ThreePointArc((-15.4, 31.2), (-15.462165524, 30.934124143), (-15.7, 30.8))
            Line((-15.7, 30.8), (-16.7, 30.7))
            ThreePointArc((-16.7, 30.7), (-16.971392676, 30.571392676), (-17.1, 30.3))
            Line((-17.1, 30.3), (-17.1, 30))
            ThreePointArc((-17.1, 30), (-16.971392676, 29.728607324), (-16.7, 29.6))
            Line((-16.7, 29.6), (-15.7, 29.5))
            ThreePointArc((-15.7, 29.5), (-15.462165524, 29.365875857), (-15.4, 29.1))
            ThreePointArc((-15.4, 29.1), (-15.462165524, 28.834124143), (-15.7, 28.7))
            Line((-15.7, 28.7), (-16.7, 28.6))
            ThreePointArc((-16.7, 28.6), (-16.971392676, 28.471392676), (-17.1, 28.2))
            Line((-17.1, 28.2), (-17.1, 27.9))
            ThreePointArc((-17.1, 27.9), (-16.971392676, 27.628607324), (-16.7, 27.5))
            Line((-16.7, 27.5), (-15.7, 27.4))
            ThreePointArc((-15.7, 27.4), (-15.462165524, 27.265875857), (-15.4, 27))
            ThreePointArc((-15.4, 27), (-15.462165524, 26.734124143), (-15.7, 26.6))
            Line((-15.7, 26.6), (-16.7, 26.5))
            ThreePointArc((-16.7, 26.5), (-16.971392676, 26.371392676), (-17.1, 26.1))
            Line((-17.1, 26.1), (-17.1, 25.8))
            ThreePointArc((-17.1, 25.8), (-16.971392676, 25.528607324), (-16.7, 25.4))
            Line((-16.7, 25.4), (-15.7, 25.3))
            ThreePointArc((-15.7, 25.3), (-15.462165524, 25.165875857), (-15.4, 24.9))
            ThreePointArc((-15.4, 24.9), (-15.462165524, 24.634124143), (-15.7, 24.5))
            Line((-15.7, 24.5), (-16.7, 24.4))
            ThreePointArc((-16.7, 24.4), (-16.971392676, 24.271392676), (-17.1, 24))
            Line((-17.1, 24), (-17.1, 23.7))
            ThreePointArc((-17.1, 23.7), (-16.971392676, 23.428607324), (-16.7, 23.3))
            Line((-16.7, 23.3), (-15.7, 23.2))
            ThreePointArc((-15.7, 23.2), (-15.462165524, 23.065875857), (-15.4, 22.8))
            ThreePointArc((-15.4, 22.8), (-15.462165524, 22.534124143), (-15.7, 22.4))
            Line((-15.7, 22.4), (-16.7, 22.3))
            ThreePointArc((-16.7, 22.3), (-16.971392676, 22.171392676), (-17.1, 21.9))
            Line((-17.1, 21.9), (-17.1, 21.6))
            ThreePointArc((-17.1, 21.6), (-16.971392676, 21.328607324), (-16.7, 21.2))
            Line((-16.7, 21.2), (-15.7, 21.1))
            ThreePointArc((-15.7, 21.1), (-15.462165524, 20.965875857), (-15.4, 20.7))
            ThreePointArc((-15.4, 20.7), (-15.462165524, 20.434124143), (-15.7, 20.3))
            Line((-15.7, 20.3), (-16.7, 20.2))
            ThreePointArc((-16.7, 20.2), (-16.971392676, 20.071392676), (-17.1, 19.8))
            Line((-17.1, 19.8), (-17.1, 19.5))
            Line((-17.1, 19.5), (-18.637373825, 21.126261745))
            Line((-18.637373825, 21.126261745), (-18.815, 46.4))
            Line((-18.815, 46.4), (-17.1, 51))
            ThreePointArc((-17.1, 51), (-16.971392676, 50.728607324), (-16.7, 50.6))
        make_face()
    extrude(amount=-BOSS_EXTRUDE3_DEPTH)

    # Sketch8 → Cut-Extrude4 (cut, up to next)
    with BuildSketch(Plane(origin=(11, 0, 0), x_dir=(0, 0, -1), z_dir=(1, 0, 0)), mode=Mode.PRIVATE) as cut_extrude4_sk1:
        Polygon((-35.4, 21), (-27.4, 17), (-19.4, 21), align=None)
    cut_extrude4_tool1 = extrude(cut_extrude4_sk1.sketch, amount=-CUT_EXTRUDE4_REACH, mode=Mode.PRIVATE) & part.part
    add(cut_extrude4_tool1.solids().sort_by_distance((11, 19.666667, 27.4))[0], mode=Mode.SUBTRACT)

    # Sketch9 → Cut-Extrude5 (cut, two sides: drawn at the far end of the back side and taken through both)
    with BuildSketch(Plane.XY.offset(6.2).offset(-CUT_EXTRUDE5_DEPTH_BACK)):
        with Locations((-25.017603177, 24.82792225)):
            Rectangle(SKETCH9_W, SKETCH9_H)
    extrude(amount=CUT_EXTRUDE5_DEPTH + CUT_EXTRUDE5_DEPTH_BACK, mode=Mode.SUBTRACT)

    # Sketch10 → Cut-Extrude6 (cut, two sides: drawn at the far end of the back side and taken through both)
    with BuildSketch(Plane.XY.offset(6.2).offset(-CUT_EXTRUDE6_DEPTH_BACK)):
        with Locations((-9.089657701, 8.103525919)):
            Rectangle(SKETCH10_W, SKETCH10_H)
    extrude(amount=CUT_EXTRUDE6_DEPTH + CUT_EXTRUDE6_DEPTH_BACK, mode=Mode.SUBTRACT)


with BuildPart() as cut_extrude6_piece_1:
    # of the separate pieces the step leaves, piece 1, a body of its own (cut_extrude6_pieces)
    add(part.part.solids().sort_by_distance((-13.1, 17.667709292, 10.4))[0])


with BuildPart() as cut_extrude6_piece_2:
    # of the separate pieces the step leaves, piece 2, a body of its own (cut_extrude6_pieces)
    add(part.part.solids().sort_by_distance((-20.804192664, 17.667709292, 42.105124705))[0])


with BuildPart() as cut_extrude6_piece_3:
    # of the separate pieces the step leaves, piece 3, a body of its own (cut_extrude6_pieces)
    add(part.part.solids().sort_by_distance((-20.1, 51, 6.2))[0])


with BuildPart() as cut_extrude7_tool:
    # Sketch11 → Cut-Extrude7 (new, through all)
    with BuildSketch(Plane.XY.offset(6.2)):
        with Locations((-4.126622004, 18.546580197)):
            Rectangle(SKETCH11_W, SKETCH11_H)
    extrude(amount=CUT_EXTRUDE7_DEPTH)


with BuildPart() as cut_extrude6_piece_1_1:
    add(cut_extrude6_piece_1.part)

    # Cut-Extrude7: cut by cut_extrude7_tool
    add(cut_extrude7_tool.part, mode=Mode.SUBTRACT)


with BuildPart() as cut_extrude6_piece_2_1:
    add(cut_extrude6_piece_2.part)

    # Cut-Extrude7: cut by cut_extrude7_tool
    add(cut_extrude7_tool.part, mode=Mode.SUBTRACT)


solid = cut_extrude6_piece_3.part
